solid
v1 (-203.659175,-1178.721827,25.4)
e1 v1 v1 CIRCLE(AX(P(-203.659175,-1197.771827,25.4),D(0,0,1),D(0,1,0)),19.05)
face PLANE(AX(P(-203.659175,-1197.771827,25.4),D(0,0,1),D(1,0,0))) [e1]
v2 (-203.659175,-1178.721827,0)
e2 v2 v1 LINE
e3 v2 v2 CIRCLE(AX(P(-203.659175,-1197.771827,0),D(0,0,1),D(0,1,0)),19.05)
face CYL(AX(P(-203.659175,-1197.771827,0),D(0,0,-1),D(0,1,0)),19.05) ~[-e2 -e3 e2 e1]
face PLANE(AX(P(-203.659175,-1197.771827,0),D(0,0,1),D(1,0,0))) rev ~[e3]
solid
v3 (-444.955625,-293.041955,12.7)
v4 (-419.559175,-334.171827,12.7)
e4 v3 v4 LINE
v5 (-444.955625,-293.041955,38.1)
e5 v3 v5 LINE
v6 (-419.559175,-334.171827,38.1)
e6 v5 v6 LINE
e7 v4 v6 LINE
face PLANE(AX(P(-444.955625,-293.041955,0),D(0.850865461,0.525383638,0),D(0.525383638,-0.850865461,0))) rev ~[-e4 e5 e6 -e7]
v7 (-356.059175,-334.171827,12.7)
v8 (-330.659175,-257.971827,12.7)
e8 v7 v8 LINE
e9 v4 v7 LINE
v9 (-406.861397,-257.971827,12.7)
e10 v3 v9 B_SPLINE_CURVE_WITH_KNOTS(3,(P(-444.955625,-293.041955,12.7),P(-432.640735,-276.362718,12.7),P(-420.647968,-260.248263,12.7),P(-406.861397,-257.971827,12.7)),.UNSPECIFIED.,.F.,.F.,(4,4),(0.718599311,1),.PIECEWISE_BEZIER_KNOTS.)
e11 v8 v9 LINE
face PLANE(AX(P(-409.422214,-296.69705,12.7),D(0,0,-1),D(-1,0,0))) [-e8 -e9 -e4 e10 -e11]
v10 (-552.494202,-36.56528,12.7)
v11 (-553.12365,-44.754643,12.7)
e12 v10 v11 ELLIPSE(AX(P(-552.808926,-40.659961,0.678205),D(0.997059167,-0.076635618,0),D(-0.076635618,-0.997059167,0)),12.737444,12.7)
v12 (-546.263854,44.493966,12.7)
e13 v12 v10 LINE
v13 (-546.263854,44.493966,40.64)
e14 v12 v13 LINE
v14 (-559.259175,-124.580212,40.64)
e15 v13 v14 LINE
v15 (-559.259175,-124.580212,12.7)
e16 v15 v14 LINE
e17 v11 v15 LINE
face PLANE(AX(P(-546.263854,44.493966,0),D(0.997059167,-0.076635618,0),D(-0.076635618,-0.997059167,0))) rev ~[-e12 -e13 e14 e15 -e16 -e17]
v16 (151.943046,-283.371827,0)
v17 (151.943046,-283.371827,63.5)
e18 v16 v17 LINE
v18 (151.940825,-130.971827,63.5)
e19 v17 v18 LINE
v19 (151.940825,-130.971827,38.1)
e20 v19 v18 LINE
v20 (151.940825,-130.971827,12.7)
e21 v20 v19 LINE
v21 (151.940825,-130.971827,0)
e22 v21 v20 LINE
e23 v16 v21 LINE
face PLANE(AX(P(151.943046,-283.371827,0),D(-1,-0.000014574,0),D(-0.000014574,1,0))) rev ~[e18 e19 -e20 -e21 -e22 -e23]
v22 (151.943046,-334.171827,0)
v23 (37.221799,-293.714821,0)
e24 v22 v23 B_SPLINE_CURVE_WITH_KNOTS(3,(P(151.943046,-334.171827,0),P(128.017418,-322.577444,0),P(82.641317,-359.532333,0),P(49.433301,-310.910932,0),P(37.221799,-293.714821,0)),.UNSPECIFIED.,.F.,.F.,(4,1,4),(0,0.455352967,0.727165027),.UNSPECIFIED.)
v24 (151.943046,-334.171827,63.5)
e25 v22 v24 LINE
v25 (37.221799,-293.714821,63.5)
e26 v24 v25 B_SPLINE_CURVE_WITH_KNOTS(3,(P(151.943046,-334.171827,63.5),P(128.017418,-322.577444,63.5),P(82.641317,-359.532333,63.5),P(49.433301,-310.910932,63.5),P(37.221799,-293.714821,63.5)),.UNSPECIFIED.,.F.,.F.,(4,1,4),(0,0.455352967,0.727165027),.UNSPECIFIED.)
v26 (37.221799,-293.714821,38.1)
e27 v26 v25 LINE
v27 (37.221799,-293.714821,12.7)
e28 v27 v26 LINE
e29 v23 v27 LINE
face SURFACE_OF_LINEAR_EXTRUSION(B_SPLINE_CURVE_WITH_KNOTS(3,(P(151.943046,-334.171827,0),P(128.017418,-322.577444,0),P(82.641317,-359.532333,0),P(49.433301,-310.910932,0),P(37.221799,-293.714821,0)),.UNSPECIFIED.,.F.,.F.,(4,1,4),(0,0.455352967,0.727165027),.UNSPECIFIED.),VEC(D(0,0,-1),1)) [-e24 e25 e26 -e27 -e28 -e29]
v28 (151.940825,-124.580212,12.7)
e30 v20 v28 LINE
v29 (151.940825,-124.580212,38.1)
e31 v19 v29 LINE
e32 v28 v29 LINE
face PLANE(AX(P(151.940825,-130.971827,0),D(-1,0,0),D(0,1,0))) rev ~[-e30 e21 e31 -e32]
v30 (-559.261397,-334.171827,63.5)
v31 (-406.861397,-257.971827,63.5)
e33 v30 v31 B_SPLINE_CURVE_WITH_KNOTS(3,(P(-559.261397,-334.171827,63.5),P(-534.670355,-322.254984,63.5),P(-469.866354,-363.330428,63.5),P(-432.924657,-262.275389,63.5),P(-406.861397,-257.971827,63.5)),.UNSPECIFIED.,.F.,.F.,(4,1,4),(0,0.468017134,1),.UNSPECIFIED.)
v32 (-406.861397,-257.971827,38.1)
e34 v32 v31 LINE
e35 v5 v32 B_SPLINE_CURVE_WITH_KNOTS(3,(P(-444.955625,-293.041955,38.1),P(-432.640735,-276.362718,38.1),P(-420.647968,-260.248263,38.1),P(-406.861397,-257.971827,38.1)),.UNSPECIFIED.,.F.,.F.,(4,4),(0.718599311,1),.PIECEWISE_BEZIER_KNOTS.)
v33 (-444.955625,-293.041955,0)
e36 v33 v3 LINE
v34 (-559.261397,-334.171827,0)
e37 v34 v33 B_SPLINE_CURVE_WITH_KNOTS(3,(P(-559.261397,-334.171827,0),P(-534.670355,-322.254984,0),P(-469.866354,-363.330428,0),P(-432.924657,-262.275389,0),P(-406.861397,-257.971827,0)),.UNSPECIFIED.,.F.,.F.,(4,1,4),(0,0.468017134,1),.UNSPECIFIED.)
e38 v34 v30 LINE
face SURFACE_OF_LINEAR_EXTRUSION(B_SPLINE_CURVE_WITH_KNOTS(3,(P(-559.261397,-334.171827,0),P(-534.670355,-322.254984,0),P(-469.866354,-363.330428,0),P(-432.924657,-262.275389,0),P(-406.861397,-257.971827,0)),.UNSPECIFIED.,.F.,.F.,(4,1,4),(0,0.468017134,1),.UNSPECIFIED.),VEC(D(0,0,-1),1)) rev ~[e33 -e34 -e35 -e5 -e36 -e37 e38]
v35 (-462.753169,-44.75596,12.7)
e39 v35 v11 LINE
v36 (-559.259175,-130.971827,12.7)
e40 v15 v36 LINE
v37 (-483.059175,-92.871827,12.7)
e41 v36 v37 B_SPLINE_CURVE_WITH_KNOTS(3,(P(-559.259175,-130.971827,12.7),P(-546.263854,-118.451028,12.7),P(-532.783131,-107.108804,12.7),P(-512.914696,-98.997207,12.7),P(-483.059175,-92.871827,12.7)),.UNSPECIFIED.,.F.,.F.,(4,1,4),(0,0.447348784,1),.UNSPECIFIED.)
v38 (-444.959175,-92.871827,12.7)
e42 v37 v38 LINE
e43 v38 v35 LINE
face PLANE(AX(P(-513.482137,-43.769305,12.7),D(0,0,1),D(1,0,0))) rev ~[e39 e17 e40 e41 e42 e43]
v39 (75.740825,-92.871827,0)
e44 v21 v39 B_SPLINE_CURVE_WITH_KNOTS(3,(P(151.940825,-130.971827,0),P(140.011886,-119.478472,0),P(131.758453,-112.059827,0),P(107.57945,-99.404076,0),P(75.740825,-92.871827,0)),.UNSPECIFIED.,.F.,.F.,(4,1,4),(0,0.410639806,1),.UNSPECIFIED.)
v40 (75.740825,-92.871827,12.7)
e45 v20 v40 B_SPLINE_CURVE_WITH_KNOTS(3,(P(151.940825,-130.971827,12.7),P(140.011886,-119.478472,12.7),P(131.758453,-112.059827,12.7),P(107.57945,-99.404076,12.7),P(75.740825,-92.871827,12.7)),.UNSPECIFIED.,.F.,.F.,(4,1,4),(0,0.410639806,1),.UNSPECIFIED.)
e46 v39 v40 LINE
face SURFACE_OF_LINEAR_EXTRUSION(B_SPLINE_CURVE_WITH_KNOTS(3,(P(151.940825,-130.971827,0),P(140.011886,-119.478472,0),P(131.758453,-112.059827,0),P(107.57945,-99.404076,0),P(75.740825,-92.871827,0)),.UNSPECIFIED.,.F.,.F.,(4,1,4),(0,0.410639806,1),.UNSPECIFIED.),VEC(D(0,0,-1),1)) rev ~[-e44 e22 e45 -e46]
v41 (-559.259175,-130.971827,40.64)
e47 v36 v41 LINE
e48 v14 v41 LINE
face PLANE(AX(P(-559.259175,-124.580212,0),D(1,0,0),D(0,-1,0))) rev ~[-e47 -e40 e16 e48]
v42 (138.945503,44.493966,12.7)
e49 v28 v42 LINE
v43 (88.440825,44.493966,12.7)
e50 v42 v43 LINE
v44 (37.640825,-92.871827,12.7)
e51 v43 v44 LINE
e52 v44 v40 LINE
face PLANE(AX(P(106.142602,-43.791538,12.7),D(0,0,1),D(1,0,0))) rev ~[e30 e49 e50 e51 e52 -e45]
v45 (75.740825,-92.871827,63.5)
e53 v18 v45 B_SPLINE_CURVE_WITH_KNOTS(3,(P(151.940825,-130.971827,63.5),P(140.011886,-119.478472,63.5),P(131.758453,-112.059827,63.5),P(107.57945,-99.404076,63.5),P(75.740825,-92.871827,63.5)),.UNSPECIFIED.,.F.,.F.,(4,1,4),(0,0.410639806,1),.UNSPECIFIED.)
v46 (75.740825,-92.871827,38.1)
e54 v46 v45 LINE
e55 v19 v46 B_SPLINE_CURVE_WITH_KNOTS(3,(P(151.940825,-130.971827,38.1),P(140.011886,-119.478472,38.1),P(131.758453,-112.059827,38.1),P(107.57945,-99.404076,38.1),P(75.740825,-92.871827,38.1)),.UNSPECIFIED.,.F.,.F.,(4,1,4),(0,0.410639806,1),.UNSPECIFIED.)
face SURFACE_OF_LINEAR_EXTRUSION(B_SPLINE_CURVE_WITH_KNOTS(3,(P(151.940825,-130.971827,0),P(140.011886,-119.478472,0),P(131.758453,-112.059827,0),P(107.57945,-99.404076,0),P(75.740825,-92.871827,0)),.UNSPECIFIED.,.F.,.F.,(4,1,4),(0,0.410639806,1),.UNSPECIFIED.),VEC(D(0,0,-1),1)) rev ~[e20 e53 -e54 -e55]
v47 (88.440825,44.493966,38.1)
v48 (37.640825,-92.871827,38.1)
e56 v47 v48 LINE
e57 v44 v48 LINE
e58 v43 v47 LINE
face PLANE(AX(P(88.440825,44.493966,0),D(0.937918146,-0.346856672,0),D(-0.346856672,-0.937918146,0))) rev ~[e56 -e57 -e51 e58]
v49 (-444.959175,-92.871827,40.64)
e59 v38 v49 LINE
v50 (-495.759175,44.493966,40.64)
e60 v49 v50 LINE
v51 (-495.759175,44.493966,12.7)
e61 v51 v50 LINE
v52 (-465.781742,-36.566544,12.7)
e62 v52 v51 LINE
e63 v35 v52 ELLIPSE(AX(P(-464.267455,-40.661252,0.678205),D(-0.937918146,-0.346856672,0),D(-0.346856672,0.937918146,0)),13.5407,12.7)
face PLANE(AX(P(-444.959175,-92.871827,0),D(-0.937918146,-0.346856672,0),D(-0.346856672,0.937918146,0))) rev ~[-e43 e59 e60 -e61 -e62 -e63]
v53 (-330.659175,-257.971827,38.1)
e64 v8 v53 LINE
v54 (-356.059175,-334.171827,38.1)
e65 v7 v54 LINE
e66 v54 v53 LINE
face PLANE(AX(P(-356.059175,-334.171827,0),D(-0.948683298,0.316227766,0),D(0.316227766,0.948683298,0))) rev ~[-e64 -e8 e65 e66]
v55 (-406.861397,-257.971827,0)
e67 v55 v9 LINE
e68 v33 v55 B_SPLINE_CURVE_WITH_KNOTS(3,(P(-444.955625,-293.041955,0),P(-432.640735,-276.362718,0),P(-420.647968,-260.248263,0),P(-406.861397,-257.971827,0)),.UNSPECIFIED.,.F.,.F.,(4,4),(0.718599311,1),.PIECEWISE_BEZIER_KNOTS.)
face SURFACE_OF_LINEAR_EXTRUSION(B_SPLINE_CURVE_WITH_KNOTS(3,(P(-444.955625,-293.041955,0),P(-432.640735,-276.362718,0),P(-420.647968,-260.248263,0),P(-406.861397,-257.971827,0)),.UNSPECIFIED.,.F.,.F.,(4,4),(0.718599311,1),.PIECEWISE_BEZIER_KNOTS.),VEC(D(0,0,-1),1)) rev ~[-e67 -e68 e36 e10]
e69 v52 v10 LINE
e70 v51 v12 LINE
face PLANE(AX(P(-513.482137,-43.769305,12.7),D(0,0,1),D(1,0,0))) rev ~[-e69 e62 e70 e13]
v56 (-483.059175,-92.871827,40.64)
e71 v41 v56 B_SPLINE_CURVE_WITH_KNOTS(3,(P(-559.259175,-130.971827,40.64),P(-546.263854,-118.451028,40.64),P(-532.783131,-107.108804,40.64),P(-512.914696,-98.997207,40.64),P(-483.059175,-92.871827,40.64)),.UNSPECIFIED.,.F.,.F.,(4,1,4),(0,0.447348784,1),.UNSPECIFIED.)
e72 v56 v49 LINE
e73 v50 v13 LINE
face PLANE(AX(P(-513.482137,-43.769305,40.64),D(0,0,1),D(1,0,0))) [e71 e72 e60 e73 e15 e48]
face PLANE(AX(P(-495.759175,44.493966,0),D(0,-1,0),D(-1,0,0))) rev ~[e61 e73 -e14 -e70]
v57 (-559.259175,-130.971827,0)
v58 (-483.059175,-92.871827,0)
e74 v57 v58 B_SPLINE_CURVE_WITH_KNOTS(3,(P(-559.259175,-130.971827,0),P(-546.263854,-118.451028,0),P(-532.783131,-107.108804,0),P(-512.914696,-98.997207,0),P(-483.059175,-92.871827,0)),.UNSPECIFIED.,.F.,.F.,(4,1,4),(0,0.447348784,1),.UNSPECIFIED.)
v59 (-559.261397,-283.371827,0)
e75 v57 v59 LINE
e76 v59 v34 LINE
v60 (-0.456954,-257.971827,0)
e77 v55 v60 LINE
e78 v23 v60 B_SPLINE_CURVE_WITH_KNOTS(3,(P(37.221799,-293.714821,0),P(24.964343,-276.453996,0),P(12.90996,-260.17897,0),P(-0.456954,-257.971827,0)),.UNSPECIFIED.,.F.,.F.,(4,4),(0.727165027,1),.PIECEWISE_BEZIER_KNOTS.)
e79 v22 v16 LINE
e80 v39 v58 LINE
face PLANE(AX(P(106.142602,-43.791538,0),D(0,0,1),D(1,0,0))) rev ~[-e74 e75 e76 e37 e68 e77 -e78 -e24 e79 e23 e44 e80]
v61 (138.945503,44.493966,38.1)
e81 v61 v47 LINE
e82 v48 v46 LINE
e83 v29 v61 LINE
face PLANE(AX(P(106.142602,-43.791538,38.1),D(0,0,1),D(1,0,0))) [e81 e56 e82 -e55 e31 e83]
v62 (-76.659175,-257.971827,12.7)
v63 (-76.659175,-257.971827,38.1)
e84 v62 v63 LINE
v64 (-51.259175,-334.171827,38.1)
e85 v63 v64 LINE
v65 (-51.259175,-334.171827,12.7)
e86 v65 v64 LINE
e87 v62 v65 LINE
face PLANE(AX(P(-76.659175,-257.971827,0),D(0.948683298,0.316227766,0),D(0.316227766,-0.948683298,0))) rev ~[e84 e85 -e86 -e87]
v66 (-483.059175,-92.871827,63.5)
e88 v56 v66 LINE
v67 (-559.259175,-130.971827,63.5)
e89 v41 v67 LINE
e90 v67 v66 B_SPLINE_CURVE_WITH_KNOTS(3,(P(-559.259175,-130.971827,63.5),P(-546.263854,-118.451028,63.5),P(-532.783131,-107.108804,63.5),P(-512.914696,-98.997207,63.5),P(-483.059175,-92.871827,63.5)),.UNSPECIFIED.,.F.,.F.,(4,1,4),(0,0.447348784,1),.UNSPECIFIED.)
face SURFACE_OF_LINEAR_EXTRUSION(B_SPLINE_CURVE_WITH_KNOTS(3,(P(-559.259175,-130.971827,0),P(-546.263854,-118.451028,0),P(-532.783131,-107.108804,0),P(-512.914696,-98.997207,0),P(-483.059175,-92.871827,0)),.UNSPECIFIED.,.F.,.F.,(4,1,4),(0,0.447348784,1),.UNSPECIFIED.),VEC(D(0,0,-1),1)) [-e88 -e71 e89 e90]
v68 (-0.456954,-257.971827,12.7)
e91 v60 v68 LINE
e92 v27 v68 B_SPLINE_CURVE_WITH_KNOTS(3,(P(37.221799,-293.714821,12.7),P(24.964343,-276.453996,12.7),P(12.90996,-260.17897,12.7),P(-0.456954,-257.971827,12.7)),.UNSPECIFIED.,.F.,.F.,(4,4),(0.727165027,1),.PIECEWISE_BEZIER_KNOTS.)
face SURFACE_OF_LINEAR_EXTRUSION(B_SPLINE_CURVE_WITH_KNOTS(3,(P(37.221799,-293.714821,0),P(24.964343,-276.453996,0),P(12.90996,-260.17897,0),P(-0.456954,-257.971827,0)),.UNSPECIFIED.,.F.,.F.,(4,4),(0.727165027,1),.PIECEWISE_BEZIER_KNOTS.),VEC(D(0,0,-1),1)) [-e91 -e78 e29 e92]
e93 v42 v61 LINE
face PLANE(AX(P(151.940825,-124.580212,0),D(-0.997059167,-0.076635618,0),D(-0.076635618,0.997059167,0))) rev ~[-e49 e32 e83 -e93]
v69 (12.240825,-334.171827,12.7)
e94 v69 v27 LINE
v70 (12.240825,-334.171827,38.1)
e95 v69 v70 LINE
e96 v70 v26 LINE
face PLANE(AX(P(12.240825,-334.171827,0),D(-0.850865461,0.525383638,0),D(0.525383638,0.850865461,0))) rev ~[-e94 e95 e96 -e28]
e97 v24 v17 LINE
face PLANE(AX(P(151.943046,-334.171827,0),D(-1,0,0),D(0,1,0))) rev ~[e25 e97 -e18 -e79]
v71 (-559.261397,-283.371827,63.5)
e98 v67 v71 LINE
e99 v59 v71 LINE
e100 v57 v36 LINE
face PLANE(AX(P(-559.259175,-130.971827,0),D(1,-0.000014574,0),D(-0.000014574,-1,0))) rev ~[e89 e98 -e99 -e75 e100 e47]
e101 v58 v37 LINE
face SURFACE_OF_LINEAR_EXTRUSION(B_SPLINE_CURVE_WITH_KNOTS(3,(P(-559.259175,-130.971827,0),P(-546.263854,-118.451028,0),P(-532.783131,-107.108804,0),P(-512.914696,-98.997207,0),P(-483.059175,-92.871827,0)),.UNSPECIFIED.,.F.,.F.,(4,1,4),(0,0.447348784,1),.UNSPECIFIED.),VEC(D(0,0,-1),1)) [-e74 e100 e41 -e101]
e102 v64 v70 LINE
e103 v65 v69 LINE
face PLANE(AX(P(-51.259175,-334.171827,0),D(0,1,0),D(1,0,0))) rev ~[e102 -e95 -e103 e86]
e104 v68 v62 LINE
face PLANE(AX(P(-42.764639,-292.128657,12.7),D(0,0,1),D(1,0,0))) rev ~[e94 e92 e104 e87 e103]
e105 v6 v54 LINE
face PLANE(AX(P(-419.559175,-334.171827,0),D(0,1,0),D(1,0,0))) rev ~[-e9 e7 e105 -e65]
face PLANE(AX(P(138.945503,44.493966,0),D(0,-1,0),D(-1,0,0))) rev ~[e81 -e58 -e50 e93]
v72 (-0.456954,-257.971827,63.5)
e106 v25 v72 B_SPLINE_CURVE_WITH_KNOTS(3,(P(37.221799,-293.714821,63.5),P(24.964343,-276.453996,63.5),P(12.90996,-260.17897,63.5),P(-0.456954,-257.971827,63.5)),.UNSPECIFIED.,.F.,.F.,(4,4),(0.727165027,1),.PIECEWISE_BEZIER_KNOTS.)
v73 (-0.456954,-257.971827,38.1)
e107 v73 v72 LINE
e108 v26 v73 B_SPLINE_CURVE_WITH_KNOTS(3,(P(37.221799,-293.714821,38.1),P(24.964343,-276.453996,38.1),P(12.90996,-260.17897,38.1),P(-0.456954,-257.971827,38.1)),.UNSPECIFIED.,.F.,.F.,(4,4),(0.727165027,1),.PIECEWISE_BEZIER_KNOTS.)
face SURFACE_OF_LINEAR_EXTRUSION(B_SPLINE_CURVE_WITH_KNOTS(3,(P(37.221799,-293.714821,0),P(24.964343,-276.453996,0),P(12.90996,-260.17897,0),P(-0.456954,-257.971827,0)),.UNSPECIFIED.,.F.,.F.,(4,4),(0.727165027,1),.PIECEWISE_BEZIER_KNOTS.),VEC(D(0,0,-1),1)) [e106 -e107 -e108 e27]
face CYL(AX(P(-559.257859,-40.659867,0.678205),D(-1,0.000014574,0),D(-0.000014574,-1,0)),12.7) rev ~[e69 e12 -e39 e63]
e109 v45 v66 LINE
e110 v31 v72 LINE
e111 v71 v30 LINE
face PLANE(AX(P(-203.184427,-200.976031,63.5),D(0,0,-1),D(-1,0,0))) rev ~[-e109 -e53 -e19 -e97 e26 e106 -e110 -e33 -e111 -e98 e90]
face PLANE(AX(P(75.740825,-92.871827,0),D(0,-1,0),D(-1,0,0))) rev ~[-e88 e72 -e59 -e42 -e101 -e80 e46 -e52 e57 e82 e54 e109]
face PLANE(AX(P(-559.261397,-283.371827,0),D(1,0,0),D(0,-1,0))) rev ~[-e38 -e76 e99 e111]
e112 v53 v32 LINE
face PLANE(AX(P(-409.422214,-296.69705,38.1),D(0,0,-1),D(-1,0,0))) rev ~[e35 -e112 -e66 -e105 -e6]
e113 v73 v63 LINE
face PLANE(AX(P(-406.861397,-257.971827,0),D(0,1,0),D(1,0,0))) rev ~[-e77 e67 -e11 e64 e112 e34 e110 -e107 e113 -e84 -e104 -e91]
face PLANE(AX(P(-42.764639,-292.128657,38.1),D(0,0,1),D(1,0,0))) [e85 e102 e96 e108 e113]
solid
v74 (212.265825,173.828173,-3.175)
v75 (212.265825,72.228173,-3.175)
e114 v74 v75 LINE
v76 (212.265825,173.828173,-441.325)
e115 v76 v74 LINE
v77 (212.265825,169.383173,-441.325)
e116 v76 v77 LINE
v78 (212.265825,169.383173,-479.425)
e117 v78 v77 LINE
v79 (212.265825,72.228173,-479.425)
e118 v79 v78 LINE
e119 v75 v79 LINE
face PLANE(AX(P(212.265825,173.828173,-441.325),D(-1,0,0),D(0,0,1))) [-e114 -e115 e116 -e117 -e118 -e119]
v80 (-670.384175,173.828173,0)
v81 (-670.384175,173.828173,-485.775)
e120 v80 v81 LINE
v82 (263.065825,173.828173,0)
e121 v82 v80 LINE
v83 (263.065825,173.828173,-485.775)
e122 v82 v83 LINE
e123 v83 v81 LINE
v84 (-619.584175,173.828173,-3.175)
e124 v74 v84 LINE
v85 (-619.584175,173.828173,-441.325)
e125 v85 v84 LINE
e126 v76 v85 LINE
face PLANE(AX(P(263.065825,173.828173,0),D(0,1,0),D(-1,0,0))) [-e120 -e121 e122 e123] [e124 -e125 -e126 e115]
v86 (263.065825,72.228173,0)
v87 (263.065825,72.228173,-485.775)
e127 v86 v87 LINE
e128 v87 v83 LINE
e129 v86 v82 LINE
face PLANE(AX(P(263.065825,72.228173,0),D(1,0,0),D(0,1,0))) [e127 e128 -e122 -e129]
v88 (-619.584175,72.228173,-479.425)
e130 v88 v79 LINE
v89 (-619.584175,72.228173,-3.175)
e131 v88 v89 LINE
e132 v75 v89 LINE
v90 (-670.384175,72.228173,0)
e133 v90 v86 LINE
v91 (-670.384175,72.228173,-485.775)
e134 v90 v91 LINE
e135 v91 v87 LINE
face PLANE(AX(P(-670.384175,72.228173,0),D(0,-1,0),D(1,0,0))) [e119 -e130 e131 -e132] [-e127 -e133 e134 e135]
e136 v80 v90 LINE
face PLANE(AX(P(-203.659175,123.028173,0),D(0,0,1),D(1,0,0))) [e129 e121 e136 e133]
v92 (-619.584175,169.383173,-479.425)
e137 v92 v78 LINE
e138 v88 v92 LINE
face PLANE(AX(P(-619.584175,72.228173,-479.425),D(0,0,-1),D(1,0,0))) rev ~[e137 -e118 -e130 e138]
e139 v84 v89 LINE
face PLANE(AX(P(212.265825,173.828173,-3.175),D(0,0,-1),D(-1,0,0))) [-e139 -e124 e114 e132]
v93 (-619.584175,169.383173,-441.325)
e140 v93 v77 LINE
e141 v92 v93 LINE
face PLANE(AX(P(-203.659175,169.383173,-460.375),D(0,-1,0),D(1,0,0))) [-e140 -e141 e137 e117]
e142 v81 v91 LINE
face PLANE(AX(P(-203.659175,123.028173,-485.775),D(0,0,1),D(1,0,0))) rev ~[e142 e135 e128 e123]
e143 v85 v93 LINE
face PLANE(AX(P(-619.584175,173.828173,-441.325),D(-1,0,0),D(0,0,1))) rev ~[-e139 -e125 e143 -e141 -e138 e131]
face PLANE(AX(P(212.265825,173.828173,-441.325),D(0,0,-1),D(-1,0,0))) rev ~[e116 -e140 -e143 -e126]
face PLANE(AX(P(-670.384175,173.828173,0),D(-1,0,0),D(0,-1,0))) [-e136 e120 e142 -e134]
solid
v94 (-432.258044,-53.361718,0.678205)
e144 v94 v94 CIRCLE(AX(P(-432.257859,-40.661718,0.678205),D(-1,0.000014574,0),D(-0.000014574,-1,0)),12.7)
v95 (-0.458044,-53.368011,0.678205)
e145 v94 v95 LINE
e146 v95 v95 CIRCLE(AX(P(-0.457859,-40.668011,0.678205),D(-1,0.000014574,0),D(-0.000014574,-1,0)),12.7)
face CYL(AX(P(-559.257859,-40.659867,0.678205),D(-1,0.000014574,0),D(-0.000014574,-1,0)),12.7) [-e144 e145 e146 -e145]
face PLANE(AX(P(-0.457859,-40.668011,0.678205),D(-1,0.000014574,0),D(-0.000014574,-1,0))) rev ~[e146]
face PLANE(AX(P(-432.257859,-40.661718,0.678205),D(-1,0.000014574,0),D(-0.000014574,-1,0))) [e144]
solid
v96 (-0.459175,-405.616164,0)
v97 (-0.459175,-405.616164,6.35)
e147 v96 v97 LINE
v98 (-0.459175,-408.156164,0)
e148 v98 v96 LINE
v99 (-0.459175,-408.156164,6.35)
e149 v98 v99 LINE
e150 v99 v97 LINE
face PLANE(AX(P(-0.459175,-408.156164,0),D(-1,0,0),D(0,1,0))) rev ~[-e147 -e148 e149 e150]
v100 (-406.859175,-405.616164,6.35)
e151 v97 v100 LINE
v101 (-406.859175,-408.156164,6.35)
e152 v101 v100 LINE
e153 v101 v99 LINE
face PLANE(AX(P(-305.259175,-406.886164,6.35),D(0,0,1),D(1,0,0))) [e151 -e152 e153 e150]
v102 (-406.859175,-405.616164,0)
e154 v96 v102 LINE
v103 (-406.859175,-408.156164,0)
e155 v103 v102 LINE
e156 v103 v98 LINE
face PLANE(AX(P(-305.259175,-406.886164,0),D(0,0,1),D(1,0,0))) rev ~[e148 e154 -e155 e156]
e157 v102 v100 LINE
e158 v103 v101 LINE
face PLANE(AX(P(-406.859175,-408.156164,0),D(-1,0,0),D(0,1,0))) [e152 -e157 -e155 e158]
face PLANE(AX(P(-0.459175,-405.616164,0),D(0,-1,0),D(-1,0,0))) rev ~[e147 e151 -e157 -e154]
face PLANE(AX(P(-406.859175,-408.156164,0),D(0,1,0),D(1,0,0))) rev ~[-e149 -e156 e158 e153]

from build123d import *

# Parameters (mm, degrees)
F1_DEPTH  = 63.5
F2_DEPTH  = 38.1
F3_DEPTH  = 12.7
F4_DEPTH  = 40.64
F5_DEPTH  = 12.7
F6_DEPTH  = 38.1
F7_DEPTH  = 12.7
F8_R      = 12.7
F9_DEPTH  = 558.8
F10_DEPTH = 127
F11_DEPTH = 25.4
F0_W      = 203.2
F0_H      = 2.54
F12_DEPTH = 6.35
F13_DEPTH = 485.775
F14_W     = 831.85
F14_H     = 438.15
F15_DEPTH = 101.6
F16_W     = 831.85
F16_H     = 38.1
F17_DEPTH = 97.155


with BuildPart() as f1:
    # F0 (on Top) → F1 (new body)
    with BuildSketch(Plane.XY):
        with BuildLine():
            Line((37.6408246131, -92.8718266129), (-203.6591753869, -92.8718266129))
            Line((-203.6591753869, -92.8718266129), (-444.9591753869, -92.8718266129))
            Line((-444.9591753869, -92.8718266129), (-483.0591753869, -92.8718266129))
            add(Edge.make_bspline(
                [(-559.2591753869, -130.9718266129), (-546.2638541522, -118.4510277738), (-532.7831309209, -107.1088036139), (-512.914695692, -98.9972069738), (-483.0591753869, -92.8718266129)],
                knots=[0, 0, 0, 0, 0.4473487837, 1, 1, 1, 1], degree=3))
            Line((-559.2591753869, -130.9718266129), (-559.2613965273, -283.3718266265))
            Line((-559.2613965273, -283.3718266265), (-559.2613965273, -334.1718266265))
            add(Edge.make_bspline(
                [(-559.2613965273, -334.1718266265), (-534.6703545183, -322.2549836692), (-488.1022443355, -351.771769362), (-455.9218092576, -307.8945100815), (-444.9556249628, -293.0419546548)],
                knots=[0, 0, 0, 0, 0.468017134, 0.7185993108, 0.7185993108, 0.7185993108, 0.7185993108], degree=3))
            add(Edge.make_bspline(
                [(-444.9556249628, -293.0419546548), (-432.6407354621, -276.3627183803), (-420.647967606, -260.2482634048), (-406.8613965273, -257.9718266129)],
                knots=[0.7185993108, 0.7185993108, 0.7185993108, 0.7185993108, 1, 1, 1, 1], degree=3))
            Line((-406.8613965273, -257.9718266129), (-387.8091753869, -257.9718266129))
            Line((-387.8091753869, -257.9718266129), (-330.6591753869, -257.9718266129))
            Line((-330.6591753869, -257.9718266129), (-203.6591753869, -257.9718266129))
            Line((-203.6591753869, -257.9718266129), (-76.6591753869, -257.9718266129))
            Line((-76.6591753869, -257.9718266129), (-63.9591753869, -257.9718266129))
            Line((-63.9591753869, -257.9718266129), (-19.5091753869, -257.9718266129))
            Line((-19.5091753869, -257.9718266129), (-0.4569542466, -257.9718266129))
            add(Edge.make_bspline(
                [(37.2217993936, -293.7148213515), (24.9643426032, -276.4539964179), (12.9099595108, -260.1789696435), (-0.4569542466, -257.9718266129)],
                knots=[0.7271650273, 0.7271650273, 0.7271650273, 0.7271650273, 1, 1, 1, 1], degree=3))
            add(Edge.make_bspline(
                [(151.9430457534, -334.1718266265), (128.0174175424, -322.5774438452), (82.6413173416, -359.5323330165), (49.4333005429, -310.9109320226), (37.2217993936, -293.7148213515)],
                knots=[0, 0, 0, 0, 0.4553529672, 0.7271650273, 0.7271650273, 0.7271650273, 0.7271650273], degree=3))
            Line((151.9430457534, -334.1718266265), (151.9430457534, -283.3718266265))
            Line((151.9430457534, -283.3718266265), (151.9408246131, -130.9718265888))
            add(Edge.make_bspline(
                [(151.9408246131, -130.9718265888), (140.0118859632, -119.4784715188), (131.7584534195, -112.0598265057), (107.579450329, -99.4040756136), (75.7408246131, -92.8718266129)],
                knots=[0, 0, 0, 0, 0.4106398064, 1, 1, 1, 1], degree=3))
            Line((75.7408246131, -92.8718266129), (37.6408246131, -92.8718266129))
        make_face()
    extrude(amount=F1_DEPTH)

    # F0 (on Top) → F2 (join)
    with BuildSketch(Plane.XY):
        with BuildLine():
            add(Edge.make_bspline(
                [(-444.9556249628, -293.0419546548), (-432.6407354621, -276.3627183803), (-420.647967606, -260.2482634048), (-406.8613965273, -257.9718266129)],
                knots=[0.7185993108, 0.7185993108, 0.7185993108, 0.7185993108, 1, 1, 1, 1], degree=3))
            Line((-444.9556249628, -293.0419546548), (-419.5591753869, -334.1718266129))
            Line((-419.5591753869, -334.1718266129), (-387.8091753869, -334.1718266129))
            Line((-387.8091753869, -334.1718266129), (-387.8091753869, -257.9718266129))
            Line((-387.8091753869, -257.9718266129), (-406.8613965273, -257.9718266129))
        make_face()
        Polygon((-330.6591753869, -257.9718266129), (-387.8091753869, -257.9718266129), (-387.8091753869, -334.1718266129), (-356.0591753869, -334.1718266129), align=None)
        Polygon((-19.5091753869, -334.1718266129), (-19.5091753869, -257.9718266129), (-63.9591753869, -257.9718266129), (-76.6591753869, -257.9718266129), (-51.2591753869, -334.1718266129), align=None)
        with BuildLine():
            Line((12.2408246131, -334.1718266129), (37.2217993936, -293.7148213515))
            add(Edge.make_bspline(
                [(37.2217993936, -293.7148213515), (24.9643426032, -276.4539964179), (12.9099595108, -260.1789696435), (-0.4569542466, -257.9718266129)],
                knots=[0.7271650273, 0.7271650273, 0.7271650273, 0.7271650273, 1, 1, 1, 1], degree=3))
            Line((-0.4569542466, -257.9718266129), (-19.5091753869, -257.9718266129))
            Line((-19.5091753869, -257.9718266129), (-19.5091753869, -334.1718266129))
            Line((-19.5091753869, -334.1718266129), (12.2408246131, -334.1718266129))
        make_face()
    extrude(amount=F2_DEPTH)

    # F0 (on Top) → F3 (cut)
    with BuildSketch(Plane.XY):
        with BuildLine():
            add(Edge.make_bspline(
                [(-444.9556249628, -293.0419546548), (-432.6407354621, -276.3627183803), (-420.647967606, -260.2482634048), (-406.8613965273, -257.9718266129)],
                knots=[0.7185993108, 0.7185993108, 0.7185993108, 0.7185993108, 1, 1, 1, 1], degree=3))
            Line((-444.9556249628, -293.0419546548), (-419.5591753869, -334.1718266129))
            Line((-419.5591753869, -334.1718266129), (-387.8091753869, -334.1718266129))
            Line((-387.8091753869, -334.1718266129), (-387.8091753869, -257.9718266129))
            Line((-387.8091753869, -257.9718266129), (-406.8613965273, -257.9718266129))
        make_face()
        Polygon((-330.6591753869, -257.9718266129), (-387.8091753869, -257.9718266129), (-387.8091753869, -334.1718266129), (-356.0591753869, -334.1718266129), align=None)
        Polygon((-19.5091753869, -334.1718266129), (-19.5091753869, -257.9718266129), (-63.9591753869, -257.9718266129), (-76.6591753869, -257.9718266129), (-51.2591753869, -334.1718266129), align=None)
        with BuildLine():
            Line((12.2408246131, -334.1718266129), (37.2217993936, -293.7148213515))
            add(Edge.make_bspline(
                [(37.2217993936, -293.7148213515), (24.9643426032, -276.4539964179), (12.9099595108, -260.1789696435), (-0.4569542466, -257.9718266129)],
                knots=[0.7271650273, 0.7271650273, 0.7271650273, 0.7271650273, 1, 1, 1, 1], degree=3))
            Line((-0.4569542466, -257.9718266129), (-19.5091753869, -257.9718266129))
            Line((-19.5091753869, -257.9718266129), (-19.5091753869, -334.1718266129))
            Line((-19.5091753869, -334.1718266129), (12.2408246131, -334.1718266129))
        make_face()
    extrude(amount=F3_DEPTH, mode=Mode.SUBTRACT)

    # F0 (on Top) → F4 (join)
    with BuildSketch(Plane.XY):
        with BuildLine():
            Line((-483.0591753869, -92.8718266129), (-444.9591753869, -92.8718266129))
            Line((-444.9591753869, -92.8718266129), (-495.7591753869, 44.4939662702))
            Line((-495.7591753869, 44.4939662702), (-546.2638541522, 44.4939662702))
            Line((-546.2638541522, 44.4939662702), (-559.2591753869, -124.5802119374))
            Line((-559.2591753869, -124.5802119374), (-559.2591753869, -130.9718266129))
            add(Edge.make_bspline(
                [(-559.2591753869, -130.9718266129), (-546.2638541522, -118.4510277738), (-532.7831309209, -107.1088036139), (-512.914695692, -98.9972069738), (-483.0591753869, -92.8718266129)],
                knots=[0, 0, 0, 0, 0.4473487837, 1, 1, 1, 1], degree=3))
        make_face()
    extrude(amount=F4_DEPTH)

    # F0 (on Top) → F5 (cut)
    with BuildSketch(Plane.XY):
        with BuildLine():
            Line((-483.0591753869, -92.8718266129), (-444.9591753869, -92.8718266129))
            Line((-444.9591753869, -92.8718266129), (-495.7591753869, 44.4939662702))
            Line((-495.7591753869, 44.4939662702), (-546.2638541522, 44.4939662702))
            Line((-546.2638541522, 44.4939662702), (-559.2591753869, -124.5802119374))
            Line((-559.2591753869, -124.5802119374), (-559.2591753869, -130.9718266129))
            add(Edge.make_bspline(
                [(-559.2591753869, -130.9718266129), (-546.2638541522, -118.4510277738), (-532.7831309209, -107.1088036139), (-512.914695692, -98.9972069738), (-483.0591753869, -92.8718266129)],
                knots=[0, 0, 0, 0, 0.4473487837, 1, 1, 1, 1], degree=3))
        make_face()
    extrude(amount=F5_DEPTH, mode=Mode.SUBTRACT)

    # F0 (on Top) → F6 (join)
    with BuildSketch(Plane.XY):
        with BuildLine():
            Line((88.4408246131, 44.4939662702), (37.6408246131, -92.8718266129))
            Line((37.6408246131, -92.8718266129), (75.7408246131, -92.8718266129))
            add(Edge.make_bspline(
                [(151.9408246131, -130.9718265888), (140.0118859632, -119.4784715188), (131.7584534195, -112.0598265057), (107.579450329, -99.4040756136), (75.7408246131, -92.8718266129)],
                knots=[0, 0, 0, 0, 0.4106398064, 1, 1, 1, 1], degree=3))
            Line((151.9408246131, -130.9718265888), (151.9408246131, -124.5802119374))
            Line((151.9408246131, -124.5802119374), (138.9455033784, 44.4939662702))
            Line((138.9455033784, 44.4939662702), (88.4408246131, 44.4939662702))
        make_face()
    extrude(amount=F6_DEPTH)

    # F0 (on Top) → F7 (cut)
    with BuildSketch(Plane.XY):
        with BuildLine():
            Line((88.4408246131, 44.4939662702), (37.6408246131, -92.8718266129))
            Line((37.6408246131, -92.8718266129), (75.7408246131, -92.8718266129))
            add(Edge.make_bspline(
                [(151.9408246131, -130.9718265888), (140.0118859632, -119.4784715188), (131.7584534195, -112.0598265057), (107.579450329, -99.4040756136), (75.7408246131, -92.8718266129)],
                knots=[0, 0, 0, 0, 0.4106398064, 1, 1, 1, 1], degree=3))
            Line((151.9408246131, -130.9718265888), (151.9408246131, -124.5802119374))
            Line((151.9408246131, -124.5802119374), (138.9455033784, 44.4939662702))
            Line((138.9455033784, 44.4939662702), (88.4408246131, 44.4939662702))
        make_face()
    extrude(amount=F7_DEPTH, mode=Mode.SUBTRACT)

    # F8 (on face) → F9 (join)
    with BuildSketch(Plane(origin=(-559.2572664308, 0.0081508457, 0), x_dir=(-1.45744e-05, -0.9999999999, 0), z_dir=(-0.9999999999, 1.45744e-05, 0))):
        with Locations((40.6680181623, 0.678205397)):
            Circle(F8_R)
    extrude(amount=-F9_DEPTH)

    # F10 (cut): a face of the model
    f10_faces = [f1.faces().sort_by_distance(p)[0] for p in [
        (-559.2578591432, -40.6598673122, 0.678205397),
    ]]
    extrude(f10_faces, amount=-F10_DEPTH, mode=Mode.SUBTRACT)


with BuildPart() as f11:
    # F0 (on Top) → F11 (new body)
    with BuildSketch(Plane.XY):
        with BuildLine():
            ThreePointArc((-184.6091753869, -1197.7718266129), (-190.1887912053, -1184.3014424313), (-203.6591753869, -1178.7218266129))
            ThreePointArc((-203.6591753869, -1178.7218266129), (-217.1295595685, -1211.2422107946), (-184.6091753869, -1197.7718266129))
        make_face()
    extrude(amount=F11_DEPTH)


with BuildPart() as f12:
    # F0 (on Top) → F12 (new body)
    with BuildSketch(Plane.XY):
        with Locations((-305.2591753869, -406.8861642075)):
            Rectangle(F0_W, F0_H)
        with Locations((-102.0591753869, -406.8861642075)):
            Rectangle(F0_W, F0_H)
    extrude(amount=F12_DEPTH)


with BuildPart() as f13:
    # F0 (on Top) → F13 (new body)
    with BuildSketch(Plane.XY):
        Polygon((-670.3841753869, 72.2281733871), (-203.6591753869, 72.2281733871), (263.0658246131, 72.2281733871), (263.0658246131, 173.8281733871), (-670.3841753869, 173.8281733871), align=None)
    extrude(amount=-F13_DEPTH)

    # F14 (on face) → F15 (cut)
    with BuildSketch(Plane(origin=(0, 173.8281733871, 0), x_dir=(-1, 0, 0), z_dir=(0, 1, 0))):
        with Locations((203.6591753869, -222.25)):
            Rectangle(F14_W, F14_H)
    extrude(amount=-F15_DEPTH, mode=Mode.SUBTRACT)

    # F16 (on face) → F17 (cut)
    with BuildSketch(Plane.XZ.offset(-72.2281733871)):
        with Locations((-203.6591753869, -460.375)):
            Rectangle(F16_W, F16_H)
    extrude(amount=-F17_DEPTH, mode=Mode.SUBTRACT)


solid = Compound([f1.part, f11.part, f12.part, f13.part])
